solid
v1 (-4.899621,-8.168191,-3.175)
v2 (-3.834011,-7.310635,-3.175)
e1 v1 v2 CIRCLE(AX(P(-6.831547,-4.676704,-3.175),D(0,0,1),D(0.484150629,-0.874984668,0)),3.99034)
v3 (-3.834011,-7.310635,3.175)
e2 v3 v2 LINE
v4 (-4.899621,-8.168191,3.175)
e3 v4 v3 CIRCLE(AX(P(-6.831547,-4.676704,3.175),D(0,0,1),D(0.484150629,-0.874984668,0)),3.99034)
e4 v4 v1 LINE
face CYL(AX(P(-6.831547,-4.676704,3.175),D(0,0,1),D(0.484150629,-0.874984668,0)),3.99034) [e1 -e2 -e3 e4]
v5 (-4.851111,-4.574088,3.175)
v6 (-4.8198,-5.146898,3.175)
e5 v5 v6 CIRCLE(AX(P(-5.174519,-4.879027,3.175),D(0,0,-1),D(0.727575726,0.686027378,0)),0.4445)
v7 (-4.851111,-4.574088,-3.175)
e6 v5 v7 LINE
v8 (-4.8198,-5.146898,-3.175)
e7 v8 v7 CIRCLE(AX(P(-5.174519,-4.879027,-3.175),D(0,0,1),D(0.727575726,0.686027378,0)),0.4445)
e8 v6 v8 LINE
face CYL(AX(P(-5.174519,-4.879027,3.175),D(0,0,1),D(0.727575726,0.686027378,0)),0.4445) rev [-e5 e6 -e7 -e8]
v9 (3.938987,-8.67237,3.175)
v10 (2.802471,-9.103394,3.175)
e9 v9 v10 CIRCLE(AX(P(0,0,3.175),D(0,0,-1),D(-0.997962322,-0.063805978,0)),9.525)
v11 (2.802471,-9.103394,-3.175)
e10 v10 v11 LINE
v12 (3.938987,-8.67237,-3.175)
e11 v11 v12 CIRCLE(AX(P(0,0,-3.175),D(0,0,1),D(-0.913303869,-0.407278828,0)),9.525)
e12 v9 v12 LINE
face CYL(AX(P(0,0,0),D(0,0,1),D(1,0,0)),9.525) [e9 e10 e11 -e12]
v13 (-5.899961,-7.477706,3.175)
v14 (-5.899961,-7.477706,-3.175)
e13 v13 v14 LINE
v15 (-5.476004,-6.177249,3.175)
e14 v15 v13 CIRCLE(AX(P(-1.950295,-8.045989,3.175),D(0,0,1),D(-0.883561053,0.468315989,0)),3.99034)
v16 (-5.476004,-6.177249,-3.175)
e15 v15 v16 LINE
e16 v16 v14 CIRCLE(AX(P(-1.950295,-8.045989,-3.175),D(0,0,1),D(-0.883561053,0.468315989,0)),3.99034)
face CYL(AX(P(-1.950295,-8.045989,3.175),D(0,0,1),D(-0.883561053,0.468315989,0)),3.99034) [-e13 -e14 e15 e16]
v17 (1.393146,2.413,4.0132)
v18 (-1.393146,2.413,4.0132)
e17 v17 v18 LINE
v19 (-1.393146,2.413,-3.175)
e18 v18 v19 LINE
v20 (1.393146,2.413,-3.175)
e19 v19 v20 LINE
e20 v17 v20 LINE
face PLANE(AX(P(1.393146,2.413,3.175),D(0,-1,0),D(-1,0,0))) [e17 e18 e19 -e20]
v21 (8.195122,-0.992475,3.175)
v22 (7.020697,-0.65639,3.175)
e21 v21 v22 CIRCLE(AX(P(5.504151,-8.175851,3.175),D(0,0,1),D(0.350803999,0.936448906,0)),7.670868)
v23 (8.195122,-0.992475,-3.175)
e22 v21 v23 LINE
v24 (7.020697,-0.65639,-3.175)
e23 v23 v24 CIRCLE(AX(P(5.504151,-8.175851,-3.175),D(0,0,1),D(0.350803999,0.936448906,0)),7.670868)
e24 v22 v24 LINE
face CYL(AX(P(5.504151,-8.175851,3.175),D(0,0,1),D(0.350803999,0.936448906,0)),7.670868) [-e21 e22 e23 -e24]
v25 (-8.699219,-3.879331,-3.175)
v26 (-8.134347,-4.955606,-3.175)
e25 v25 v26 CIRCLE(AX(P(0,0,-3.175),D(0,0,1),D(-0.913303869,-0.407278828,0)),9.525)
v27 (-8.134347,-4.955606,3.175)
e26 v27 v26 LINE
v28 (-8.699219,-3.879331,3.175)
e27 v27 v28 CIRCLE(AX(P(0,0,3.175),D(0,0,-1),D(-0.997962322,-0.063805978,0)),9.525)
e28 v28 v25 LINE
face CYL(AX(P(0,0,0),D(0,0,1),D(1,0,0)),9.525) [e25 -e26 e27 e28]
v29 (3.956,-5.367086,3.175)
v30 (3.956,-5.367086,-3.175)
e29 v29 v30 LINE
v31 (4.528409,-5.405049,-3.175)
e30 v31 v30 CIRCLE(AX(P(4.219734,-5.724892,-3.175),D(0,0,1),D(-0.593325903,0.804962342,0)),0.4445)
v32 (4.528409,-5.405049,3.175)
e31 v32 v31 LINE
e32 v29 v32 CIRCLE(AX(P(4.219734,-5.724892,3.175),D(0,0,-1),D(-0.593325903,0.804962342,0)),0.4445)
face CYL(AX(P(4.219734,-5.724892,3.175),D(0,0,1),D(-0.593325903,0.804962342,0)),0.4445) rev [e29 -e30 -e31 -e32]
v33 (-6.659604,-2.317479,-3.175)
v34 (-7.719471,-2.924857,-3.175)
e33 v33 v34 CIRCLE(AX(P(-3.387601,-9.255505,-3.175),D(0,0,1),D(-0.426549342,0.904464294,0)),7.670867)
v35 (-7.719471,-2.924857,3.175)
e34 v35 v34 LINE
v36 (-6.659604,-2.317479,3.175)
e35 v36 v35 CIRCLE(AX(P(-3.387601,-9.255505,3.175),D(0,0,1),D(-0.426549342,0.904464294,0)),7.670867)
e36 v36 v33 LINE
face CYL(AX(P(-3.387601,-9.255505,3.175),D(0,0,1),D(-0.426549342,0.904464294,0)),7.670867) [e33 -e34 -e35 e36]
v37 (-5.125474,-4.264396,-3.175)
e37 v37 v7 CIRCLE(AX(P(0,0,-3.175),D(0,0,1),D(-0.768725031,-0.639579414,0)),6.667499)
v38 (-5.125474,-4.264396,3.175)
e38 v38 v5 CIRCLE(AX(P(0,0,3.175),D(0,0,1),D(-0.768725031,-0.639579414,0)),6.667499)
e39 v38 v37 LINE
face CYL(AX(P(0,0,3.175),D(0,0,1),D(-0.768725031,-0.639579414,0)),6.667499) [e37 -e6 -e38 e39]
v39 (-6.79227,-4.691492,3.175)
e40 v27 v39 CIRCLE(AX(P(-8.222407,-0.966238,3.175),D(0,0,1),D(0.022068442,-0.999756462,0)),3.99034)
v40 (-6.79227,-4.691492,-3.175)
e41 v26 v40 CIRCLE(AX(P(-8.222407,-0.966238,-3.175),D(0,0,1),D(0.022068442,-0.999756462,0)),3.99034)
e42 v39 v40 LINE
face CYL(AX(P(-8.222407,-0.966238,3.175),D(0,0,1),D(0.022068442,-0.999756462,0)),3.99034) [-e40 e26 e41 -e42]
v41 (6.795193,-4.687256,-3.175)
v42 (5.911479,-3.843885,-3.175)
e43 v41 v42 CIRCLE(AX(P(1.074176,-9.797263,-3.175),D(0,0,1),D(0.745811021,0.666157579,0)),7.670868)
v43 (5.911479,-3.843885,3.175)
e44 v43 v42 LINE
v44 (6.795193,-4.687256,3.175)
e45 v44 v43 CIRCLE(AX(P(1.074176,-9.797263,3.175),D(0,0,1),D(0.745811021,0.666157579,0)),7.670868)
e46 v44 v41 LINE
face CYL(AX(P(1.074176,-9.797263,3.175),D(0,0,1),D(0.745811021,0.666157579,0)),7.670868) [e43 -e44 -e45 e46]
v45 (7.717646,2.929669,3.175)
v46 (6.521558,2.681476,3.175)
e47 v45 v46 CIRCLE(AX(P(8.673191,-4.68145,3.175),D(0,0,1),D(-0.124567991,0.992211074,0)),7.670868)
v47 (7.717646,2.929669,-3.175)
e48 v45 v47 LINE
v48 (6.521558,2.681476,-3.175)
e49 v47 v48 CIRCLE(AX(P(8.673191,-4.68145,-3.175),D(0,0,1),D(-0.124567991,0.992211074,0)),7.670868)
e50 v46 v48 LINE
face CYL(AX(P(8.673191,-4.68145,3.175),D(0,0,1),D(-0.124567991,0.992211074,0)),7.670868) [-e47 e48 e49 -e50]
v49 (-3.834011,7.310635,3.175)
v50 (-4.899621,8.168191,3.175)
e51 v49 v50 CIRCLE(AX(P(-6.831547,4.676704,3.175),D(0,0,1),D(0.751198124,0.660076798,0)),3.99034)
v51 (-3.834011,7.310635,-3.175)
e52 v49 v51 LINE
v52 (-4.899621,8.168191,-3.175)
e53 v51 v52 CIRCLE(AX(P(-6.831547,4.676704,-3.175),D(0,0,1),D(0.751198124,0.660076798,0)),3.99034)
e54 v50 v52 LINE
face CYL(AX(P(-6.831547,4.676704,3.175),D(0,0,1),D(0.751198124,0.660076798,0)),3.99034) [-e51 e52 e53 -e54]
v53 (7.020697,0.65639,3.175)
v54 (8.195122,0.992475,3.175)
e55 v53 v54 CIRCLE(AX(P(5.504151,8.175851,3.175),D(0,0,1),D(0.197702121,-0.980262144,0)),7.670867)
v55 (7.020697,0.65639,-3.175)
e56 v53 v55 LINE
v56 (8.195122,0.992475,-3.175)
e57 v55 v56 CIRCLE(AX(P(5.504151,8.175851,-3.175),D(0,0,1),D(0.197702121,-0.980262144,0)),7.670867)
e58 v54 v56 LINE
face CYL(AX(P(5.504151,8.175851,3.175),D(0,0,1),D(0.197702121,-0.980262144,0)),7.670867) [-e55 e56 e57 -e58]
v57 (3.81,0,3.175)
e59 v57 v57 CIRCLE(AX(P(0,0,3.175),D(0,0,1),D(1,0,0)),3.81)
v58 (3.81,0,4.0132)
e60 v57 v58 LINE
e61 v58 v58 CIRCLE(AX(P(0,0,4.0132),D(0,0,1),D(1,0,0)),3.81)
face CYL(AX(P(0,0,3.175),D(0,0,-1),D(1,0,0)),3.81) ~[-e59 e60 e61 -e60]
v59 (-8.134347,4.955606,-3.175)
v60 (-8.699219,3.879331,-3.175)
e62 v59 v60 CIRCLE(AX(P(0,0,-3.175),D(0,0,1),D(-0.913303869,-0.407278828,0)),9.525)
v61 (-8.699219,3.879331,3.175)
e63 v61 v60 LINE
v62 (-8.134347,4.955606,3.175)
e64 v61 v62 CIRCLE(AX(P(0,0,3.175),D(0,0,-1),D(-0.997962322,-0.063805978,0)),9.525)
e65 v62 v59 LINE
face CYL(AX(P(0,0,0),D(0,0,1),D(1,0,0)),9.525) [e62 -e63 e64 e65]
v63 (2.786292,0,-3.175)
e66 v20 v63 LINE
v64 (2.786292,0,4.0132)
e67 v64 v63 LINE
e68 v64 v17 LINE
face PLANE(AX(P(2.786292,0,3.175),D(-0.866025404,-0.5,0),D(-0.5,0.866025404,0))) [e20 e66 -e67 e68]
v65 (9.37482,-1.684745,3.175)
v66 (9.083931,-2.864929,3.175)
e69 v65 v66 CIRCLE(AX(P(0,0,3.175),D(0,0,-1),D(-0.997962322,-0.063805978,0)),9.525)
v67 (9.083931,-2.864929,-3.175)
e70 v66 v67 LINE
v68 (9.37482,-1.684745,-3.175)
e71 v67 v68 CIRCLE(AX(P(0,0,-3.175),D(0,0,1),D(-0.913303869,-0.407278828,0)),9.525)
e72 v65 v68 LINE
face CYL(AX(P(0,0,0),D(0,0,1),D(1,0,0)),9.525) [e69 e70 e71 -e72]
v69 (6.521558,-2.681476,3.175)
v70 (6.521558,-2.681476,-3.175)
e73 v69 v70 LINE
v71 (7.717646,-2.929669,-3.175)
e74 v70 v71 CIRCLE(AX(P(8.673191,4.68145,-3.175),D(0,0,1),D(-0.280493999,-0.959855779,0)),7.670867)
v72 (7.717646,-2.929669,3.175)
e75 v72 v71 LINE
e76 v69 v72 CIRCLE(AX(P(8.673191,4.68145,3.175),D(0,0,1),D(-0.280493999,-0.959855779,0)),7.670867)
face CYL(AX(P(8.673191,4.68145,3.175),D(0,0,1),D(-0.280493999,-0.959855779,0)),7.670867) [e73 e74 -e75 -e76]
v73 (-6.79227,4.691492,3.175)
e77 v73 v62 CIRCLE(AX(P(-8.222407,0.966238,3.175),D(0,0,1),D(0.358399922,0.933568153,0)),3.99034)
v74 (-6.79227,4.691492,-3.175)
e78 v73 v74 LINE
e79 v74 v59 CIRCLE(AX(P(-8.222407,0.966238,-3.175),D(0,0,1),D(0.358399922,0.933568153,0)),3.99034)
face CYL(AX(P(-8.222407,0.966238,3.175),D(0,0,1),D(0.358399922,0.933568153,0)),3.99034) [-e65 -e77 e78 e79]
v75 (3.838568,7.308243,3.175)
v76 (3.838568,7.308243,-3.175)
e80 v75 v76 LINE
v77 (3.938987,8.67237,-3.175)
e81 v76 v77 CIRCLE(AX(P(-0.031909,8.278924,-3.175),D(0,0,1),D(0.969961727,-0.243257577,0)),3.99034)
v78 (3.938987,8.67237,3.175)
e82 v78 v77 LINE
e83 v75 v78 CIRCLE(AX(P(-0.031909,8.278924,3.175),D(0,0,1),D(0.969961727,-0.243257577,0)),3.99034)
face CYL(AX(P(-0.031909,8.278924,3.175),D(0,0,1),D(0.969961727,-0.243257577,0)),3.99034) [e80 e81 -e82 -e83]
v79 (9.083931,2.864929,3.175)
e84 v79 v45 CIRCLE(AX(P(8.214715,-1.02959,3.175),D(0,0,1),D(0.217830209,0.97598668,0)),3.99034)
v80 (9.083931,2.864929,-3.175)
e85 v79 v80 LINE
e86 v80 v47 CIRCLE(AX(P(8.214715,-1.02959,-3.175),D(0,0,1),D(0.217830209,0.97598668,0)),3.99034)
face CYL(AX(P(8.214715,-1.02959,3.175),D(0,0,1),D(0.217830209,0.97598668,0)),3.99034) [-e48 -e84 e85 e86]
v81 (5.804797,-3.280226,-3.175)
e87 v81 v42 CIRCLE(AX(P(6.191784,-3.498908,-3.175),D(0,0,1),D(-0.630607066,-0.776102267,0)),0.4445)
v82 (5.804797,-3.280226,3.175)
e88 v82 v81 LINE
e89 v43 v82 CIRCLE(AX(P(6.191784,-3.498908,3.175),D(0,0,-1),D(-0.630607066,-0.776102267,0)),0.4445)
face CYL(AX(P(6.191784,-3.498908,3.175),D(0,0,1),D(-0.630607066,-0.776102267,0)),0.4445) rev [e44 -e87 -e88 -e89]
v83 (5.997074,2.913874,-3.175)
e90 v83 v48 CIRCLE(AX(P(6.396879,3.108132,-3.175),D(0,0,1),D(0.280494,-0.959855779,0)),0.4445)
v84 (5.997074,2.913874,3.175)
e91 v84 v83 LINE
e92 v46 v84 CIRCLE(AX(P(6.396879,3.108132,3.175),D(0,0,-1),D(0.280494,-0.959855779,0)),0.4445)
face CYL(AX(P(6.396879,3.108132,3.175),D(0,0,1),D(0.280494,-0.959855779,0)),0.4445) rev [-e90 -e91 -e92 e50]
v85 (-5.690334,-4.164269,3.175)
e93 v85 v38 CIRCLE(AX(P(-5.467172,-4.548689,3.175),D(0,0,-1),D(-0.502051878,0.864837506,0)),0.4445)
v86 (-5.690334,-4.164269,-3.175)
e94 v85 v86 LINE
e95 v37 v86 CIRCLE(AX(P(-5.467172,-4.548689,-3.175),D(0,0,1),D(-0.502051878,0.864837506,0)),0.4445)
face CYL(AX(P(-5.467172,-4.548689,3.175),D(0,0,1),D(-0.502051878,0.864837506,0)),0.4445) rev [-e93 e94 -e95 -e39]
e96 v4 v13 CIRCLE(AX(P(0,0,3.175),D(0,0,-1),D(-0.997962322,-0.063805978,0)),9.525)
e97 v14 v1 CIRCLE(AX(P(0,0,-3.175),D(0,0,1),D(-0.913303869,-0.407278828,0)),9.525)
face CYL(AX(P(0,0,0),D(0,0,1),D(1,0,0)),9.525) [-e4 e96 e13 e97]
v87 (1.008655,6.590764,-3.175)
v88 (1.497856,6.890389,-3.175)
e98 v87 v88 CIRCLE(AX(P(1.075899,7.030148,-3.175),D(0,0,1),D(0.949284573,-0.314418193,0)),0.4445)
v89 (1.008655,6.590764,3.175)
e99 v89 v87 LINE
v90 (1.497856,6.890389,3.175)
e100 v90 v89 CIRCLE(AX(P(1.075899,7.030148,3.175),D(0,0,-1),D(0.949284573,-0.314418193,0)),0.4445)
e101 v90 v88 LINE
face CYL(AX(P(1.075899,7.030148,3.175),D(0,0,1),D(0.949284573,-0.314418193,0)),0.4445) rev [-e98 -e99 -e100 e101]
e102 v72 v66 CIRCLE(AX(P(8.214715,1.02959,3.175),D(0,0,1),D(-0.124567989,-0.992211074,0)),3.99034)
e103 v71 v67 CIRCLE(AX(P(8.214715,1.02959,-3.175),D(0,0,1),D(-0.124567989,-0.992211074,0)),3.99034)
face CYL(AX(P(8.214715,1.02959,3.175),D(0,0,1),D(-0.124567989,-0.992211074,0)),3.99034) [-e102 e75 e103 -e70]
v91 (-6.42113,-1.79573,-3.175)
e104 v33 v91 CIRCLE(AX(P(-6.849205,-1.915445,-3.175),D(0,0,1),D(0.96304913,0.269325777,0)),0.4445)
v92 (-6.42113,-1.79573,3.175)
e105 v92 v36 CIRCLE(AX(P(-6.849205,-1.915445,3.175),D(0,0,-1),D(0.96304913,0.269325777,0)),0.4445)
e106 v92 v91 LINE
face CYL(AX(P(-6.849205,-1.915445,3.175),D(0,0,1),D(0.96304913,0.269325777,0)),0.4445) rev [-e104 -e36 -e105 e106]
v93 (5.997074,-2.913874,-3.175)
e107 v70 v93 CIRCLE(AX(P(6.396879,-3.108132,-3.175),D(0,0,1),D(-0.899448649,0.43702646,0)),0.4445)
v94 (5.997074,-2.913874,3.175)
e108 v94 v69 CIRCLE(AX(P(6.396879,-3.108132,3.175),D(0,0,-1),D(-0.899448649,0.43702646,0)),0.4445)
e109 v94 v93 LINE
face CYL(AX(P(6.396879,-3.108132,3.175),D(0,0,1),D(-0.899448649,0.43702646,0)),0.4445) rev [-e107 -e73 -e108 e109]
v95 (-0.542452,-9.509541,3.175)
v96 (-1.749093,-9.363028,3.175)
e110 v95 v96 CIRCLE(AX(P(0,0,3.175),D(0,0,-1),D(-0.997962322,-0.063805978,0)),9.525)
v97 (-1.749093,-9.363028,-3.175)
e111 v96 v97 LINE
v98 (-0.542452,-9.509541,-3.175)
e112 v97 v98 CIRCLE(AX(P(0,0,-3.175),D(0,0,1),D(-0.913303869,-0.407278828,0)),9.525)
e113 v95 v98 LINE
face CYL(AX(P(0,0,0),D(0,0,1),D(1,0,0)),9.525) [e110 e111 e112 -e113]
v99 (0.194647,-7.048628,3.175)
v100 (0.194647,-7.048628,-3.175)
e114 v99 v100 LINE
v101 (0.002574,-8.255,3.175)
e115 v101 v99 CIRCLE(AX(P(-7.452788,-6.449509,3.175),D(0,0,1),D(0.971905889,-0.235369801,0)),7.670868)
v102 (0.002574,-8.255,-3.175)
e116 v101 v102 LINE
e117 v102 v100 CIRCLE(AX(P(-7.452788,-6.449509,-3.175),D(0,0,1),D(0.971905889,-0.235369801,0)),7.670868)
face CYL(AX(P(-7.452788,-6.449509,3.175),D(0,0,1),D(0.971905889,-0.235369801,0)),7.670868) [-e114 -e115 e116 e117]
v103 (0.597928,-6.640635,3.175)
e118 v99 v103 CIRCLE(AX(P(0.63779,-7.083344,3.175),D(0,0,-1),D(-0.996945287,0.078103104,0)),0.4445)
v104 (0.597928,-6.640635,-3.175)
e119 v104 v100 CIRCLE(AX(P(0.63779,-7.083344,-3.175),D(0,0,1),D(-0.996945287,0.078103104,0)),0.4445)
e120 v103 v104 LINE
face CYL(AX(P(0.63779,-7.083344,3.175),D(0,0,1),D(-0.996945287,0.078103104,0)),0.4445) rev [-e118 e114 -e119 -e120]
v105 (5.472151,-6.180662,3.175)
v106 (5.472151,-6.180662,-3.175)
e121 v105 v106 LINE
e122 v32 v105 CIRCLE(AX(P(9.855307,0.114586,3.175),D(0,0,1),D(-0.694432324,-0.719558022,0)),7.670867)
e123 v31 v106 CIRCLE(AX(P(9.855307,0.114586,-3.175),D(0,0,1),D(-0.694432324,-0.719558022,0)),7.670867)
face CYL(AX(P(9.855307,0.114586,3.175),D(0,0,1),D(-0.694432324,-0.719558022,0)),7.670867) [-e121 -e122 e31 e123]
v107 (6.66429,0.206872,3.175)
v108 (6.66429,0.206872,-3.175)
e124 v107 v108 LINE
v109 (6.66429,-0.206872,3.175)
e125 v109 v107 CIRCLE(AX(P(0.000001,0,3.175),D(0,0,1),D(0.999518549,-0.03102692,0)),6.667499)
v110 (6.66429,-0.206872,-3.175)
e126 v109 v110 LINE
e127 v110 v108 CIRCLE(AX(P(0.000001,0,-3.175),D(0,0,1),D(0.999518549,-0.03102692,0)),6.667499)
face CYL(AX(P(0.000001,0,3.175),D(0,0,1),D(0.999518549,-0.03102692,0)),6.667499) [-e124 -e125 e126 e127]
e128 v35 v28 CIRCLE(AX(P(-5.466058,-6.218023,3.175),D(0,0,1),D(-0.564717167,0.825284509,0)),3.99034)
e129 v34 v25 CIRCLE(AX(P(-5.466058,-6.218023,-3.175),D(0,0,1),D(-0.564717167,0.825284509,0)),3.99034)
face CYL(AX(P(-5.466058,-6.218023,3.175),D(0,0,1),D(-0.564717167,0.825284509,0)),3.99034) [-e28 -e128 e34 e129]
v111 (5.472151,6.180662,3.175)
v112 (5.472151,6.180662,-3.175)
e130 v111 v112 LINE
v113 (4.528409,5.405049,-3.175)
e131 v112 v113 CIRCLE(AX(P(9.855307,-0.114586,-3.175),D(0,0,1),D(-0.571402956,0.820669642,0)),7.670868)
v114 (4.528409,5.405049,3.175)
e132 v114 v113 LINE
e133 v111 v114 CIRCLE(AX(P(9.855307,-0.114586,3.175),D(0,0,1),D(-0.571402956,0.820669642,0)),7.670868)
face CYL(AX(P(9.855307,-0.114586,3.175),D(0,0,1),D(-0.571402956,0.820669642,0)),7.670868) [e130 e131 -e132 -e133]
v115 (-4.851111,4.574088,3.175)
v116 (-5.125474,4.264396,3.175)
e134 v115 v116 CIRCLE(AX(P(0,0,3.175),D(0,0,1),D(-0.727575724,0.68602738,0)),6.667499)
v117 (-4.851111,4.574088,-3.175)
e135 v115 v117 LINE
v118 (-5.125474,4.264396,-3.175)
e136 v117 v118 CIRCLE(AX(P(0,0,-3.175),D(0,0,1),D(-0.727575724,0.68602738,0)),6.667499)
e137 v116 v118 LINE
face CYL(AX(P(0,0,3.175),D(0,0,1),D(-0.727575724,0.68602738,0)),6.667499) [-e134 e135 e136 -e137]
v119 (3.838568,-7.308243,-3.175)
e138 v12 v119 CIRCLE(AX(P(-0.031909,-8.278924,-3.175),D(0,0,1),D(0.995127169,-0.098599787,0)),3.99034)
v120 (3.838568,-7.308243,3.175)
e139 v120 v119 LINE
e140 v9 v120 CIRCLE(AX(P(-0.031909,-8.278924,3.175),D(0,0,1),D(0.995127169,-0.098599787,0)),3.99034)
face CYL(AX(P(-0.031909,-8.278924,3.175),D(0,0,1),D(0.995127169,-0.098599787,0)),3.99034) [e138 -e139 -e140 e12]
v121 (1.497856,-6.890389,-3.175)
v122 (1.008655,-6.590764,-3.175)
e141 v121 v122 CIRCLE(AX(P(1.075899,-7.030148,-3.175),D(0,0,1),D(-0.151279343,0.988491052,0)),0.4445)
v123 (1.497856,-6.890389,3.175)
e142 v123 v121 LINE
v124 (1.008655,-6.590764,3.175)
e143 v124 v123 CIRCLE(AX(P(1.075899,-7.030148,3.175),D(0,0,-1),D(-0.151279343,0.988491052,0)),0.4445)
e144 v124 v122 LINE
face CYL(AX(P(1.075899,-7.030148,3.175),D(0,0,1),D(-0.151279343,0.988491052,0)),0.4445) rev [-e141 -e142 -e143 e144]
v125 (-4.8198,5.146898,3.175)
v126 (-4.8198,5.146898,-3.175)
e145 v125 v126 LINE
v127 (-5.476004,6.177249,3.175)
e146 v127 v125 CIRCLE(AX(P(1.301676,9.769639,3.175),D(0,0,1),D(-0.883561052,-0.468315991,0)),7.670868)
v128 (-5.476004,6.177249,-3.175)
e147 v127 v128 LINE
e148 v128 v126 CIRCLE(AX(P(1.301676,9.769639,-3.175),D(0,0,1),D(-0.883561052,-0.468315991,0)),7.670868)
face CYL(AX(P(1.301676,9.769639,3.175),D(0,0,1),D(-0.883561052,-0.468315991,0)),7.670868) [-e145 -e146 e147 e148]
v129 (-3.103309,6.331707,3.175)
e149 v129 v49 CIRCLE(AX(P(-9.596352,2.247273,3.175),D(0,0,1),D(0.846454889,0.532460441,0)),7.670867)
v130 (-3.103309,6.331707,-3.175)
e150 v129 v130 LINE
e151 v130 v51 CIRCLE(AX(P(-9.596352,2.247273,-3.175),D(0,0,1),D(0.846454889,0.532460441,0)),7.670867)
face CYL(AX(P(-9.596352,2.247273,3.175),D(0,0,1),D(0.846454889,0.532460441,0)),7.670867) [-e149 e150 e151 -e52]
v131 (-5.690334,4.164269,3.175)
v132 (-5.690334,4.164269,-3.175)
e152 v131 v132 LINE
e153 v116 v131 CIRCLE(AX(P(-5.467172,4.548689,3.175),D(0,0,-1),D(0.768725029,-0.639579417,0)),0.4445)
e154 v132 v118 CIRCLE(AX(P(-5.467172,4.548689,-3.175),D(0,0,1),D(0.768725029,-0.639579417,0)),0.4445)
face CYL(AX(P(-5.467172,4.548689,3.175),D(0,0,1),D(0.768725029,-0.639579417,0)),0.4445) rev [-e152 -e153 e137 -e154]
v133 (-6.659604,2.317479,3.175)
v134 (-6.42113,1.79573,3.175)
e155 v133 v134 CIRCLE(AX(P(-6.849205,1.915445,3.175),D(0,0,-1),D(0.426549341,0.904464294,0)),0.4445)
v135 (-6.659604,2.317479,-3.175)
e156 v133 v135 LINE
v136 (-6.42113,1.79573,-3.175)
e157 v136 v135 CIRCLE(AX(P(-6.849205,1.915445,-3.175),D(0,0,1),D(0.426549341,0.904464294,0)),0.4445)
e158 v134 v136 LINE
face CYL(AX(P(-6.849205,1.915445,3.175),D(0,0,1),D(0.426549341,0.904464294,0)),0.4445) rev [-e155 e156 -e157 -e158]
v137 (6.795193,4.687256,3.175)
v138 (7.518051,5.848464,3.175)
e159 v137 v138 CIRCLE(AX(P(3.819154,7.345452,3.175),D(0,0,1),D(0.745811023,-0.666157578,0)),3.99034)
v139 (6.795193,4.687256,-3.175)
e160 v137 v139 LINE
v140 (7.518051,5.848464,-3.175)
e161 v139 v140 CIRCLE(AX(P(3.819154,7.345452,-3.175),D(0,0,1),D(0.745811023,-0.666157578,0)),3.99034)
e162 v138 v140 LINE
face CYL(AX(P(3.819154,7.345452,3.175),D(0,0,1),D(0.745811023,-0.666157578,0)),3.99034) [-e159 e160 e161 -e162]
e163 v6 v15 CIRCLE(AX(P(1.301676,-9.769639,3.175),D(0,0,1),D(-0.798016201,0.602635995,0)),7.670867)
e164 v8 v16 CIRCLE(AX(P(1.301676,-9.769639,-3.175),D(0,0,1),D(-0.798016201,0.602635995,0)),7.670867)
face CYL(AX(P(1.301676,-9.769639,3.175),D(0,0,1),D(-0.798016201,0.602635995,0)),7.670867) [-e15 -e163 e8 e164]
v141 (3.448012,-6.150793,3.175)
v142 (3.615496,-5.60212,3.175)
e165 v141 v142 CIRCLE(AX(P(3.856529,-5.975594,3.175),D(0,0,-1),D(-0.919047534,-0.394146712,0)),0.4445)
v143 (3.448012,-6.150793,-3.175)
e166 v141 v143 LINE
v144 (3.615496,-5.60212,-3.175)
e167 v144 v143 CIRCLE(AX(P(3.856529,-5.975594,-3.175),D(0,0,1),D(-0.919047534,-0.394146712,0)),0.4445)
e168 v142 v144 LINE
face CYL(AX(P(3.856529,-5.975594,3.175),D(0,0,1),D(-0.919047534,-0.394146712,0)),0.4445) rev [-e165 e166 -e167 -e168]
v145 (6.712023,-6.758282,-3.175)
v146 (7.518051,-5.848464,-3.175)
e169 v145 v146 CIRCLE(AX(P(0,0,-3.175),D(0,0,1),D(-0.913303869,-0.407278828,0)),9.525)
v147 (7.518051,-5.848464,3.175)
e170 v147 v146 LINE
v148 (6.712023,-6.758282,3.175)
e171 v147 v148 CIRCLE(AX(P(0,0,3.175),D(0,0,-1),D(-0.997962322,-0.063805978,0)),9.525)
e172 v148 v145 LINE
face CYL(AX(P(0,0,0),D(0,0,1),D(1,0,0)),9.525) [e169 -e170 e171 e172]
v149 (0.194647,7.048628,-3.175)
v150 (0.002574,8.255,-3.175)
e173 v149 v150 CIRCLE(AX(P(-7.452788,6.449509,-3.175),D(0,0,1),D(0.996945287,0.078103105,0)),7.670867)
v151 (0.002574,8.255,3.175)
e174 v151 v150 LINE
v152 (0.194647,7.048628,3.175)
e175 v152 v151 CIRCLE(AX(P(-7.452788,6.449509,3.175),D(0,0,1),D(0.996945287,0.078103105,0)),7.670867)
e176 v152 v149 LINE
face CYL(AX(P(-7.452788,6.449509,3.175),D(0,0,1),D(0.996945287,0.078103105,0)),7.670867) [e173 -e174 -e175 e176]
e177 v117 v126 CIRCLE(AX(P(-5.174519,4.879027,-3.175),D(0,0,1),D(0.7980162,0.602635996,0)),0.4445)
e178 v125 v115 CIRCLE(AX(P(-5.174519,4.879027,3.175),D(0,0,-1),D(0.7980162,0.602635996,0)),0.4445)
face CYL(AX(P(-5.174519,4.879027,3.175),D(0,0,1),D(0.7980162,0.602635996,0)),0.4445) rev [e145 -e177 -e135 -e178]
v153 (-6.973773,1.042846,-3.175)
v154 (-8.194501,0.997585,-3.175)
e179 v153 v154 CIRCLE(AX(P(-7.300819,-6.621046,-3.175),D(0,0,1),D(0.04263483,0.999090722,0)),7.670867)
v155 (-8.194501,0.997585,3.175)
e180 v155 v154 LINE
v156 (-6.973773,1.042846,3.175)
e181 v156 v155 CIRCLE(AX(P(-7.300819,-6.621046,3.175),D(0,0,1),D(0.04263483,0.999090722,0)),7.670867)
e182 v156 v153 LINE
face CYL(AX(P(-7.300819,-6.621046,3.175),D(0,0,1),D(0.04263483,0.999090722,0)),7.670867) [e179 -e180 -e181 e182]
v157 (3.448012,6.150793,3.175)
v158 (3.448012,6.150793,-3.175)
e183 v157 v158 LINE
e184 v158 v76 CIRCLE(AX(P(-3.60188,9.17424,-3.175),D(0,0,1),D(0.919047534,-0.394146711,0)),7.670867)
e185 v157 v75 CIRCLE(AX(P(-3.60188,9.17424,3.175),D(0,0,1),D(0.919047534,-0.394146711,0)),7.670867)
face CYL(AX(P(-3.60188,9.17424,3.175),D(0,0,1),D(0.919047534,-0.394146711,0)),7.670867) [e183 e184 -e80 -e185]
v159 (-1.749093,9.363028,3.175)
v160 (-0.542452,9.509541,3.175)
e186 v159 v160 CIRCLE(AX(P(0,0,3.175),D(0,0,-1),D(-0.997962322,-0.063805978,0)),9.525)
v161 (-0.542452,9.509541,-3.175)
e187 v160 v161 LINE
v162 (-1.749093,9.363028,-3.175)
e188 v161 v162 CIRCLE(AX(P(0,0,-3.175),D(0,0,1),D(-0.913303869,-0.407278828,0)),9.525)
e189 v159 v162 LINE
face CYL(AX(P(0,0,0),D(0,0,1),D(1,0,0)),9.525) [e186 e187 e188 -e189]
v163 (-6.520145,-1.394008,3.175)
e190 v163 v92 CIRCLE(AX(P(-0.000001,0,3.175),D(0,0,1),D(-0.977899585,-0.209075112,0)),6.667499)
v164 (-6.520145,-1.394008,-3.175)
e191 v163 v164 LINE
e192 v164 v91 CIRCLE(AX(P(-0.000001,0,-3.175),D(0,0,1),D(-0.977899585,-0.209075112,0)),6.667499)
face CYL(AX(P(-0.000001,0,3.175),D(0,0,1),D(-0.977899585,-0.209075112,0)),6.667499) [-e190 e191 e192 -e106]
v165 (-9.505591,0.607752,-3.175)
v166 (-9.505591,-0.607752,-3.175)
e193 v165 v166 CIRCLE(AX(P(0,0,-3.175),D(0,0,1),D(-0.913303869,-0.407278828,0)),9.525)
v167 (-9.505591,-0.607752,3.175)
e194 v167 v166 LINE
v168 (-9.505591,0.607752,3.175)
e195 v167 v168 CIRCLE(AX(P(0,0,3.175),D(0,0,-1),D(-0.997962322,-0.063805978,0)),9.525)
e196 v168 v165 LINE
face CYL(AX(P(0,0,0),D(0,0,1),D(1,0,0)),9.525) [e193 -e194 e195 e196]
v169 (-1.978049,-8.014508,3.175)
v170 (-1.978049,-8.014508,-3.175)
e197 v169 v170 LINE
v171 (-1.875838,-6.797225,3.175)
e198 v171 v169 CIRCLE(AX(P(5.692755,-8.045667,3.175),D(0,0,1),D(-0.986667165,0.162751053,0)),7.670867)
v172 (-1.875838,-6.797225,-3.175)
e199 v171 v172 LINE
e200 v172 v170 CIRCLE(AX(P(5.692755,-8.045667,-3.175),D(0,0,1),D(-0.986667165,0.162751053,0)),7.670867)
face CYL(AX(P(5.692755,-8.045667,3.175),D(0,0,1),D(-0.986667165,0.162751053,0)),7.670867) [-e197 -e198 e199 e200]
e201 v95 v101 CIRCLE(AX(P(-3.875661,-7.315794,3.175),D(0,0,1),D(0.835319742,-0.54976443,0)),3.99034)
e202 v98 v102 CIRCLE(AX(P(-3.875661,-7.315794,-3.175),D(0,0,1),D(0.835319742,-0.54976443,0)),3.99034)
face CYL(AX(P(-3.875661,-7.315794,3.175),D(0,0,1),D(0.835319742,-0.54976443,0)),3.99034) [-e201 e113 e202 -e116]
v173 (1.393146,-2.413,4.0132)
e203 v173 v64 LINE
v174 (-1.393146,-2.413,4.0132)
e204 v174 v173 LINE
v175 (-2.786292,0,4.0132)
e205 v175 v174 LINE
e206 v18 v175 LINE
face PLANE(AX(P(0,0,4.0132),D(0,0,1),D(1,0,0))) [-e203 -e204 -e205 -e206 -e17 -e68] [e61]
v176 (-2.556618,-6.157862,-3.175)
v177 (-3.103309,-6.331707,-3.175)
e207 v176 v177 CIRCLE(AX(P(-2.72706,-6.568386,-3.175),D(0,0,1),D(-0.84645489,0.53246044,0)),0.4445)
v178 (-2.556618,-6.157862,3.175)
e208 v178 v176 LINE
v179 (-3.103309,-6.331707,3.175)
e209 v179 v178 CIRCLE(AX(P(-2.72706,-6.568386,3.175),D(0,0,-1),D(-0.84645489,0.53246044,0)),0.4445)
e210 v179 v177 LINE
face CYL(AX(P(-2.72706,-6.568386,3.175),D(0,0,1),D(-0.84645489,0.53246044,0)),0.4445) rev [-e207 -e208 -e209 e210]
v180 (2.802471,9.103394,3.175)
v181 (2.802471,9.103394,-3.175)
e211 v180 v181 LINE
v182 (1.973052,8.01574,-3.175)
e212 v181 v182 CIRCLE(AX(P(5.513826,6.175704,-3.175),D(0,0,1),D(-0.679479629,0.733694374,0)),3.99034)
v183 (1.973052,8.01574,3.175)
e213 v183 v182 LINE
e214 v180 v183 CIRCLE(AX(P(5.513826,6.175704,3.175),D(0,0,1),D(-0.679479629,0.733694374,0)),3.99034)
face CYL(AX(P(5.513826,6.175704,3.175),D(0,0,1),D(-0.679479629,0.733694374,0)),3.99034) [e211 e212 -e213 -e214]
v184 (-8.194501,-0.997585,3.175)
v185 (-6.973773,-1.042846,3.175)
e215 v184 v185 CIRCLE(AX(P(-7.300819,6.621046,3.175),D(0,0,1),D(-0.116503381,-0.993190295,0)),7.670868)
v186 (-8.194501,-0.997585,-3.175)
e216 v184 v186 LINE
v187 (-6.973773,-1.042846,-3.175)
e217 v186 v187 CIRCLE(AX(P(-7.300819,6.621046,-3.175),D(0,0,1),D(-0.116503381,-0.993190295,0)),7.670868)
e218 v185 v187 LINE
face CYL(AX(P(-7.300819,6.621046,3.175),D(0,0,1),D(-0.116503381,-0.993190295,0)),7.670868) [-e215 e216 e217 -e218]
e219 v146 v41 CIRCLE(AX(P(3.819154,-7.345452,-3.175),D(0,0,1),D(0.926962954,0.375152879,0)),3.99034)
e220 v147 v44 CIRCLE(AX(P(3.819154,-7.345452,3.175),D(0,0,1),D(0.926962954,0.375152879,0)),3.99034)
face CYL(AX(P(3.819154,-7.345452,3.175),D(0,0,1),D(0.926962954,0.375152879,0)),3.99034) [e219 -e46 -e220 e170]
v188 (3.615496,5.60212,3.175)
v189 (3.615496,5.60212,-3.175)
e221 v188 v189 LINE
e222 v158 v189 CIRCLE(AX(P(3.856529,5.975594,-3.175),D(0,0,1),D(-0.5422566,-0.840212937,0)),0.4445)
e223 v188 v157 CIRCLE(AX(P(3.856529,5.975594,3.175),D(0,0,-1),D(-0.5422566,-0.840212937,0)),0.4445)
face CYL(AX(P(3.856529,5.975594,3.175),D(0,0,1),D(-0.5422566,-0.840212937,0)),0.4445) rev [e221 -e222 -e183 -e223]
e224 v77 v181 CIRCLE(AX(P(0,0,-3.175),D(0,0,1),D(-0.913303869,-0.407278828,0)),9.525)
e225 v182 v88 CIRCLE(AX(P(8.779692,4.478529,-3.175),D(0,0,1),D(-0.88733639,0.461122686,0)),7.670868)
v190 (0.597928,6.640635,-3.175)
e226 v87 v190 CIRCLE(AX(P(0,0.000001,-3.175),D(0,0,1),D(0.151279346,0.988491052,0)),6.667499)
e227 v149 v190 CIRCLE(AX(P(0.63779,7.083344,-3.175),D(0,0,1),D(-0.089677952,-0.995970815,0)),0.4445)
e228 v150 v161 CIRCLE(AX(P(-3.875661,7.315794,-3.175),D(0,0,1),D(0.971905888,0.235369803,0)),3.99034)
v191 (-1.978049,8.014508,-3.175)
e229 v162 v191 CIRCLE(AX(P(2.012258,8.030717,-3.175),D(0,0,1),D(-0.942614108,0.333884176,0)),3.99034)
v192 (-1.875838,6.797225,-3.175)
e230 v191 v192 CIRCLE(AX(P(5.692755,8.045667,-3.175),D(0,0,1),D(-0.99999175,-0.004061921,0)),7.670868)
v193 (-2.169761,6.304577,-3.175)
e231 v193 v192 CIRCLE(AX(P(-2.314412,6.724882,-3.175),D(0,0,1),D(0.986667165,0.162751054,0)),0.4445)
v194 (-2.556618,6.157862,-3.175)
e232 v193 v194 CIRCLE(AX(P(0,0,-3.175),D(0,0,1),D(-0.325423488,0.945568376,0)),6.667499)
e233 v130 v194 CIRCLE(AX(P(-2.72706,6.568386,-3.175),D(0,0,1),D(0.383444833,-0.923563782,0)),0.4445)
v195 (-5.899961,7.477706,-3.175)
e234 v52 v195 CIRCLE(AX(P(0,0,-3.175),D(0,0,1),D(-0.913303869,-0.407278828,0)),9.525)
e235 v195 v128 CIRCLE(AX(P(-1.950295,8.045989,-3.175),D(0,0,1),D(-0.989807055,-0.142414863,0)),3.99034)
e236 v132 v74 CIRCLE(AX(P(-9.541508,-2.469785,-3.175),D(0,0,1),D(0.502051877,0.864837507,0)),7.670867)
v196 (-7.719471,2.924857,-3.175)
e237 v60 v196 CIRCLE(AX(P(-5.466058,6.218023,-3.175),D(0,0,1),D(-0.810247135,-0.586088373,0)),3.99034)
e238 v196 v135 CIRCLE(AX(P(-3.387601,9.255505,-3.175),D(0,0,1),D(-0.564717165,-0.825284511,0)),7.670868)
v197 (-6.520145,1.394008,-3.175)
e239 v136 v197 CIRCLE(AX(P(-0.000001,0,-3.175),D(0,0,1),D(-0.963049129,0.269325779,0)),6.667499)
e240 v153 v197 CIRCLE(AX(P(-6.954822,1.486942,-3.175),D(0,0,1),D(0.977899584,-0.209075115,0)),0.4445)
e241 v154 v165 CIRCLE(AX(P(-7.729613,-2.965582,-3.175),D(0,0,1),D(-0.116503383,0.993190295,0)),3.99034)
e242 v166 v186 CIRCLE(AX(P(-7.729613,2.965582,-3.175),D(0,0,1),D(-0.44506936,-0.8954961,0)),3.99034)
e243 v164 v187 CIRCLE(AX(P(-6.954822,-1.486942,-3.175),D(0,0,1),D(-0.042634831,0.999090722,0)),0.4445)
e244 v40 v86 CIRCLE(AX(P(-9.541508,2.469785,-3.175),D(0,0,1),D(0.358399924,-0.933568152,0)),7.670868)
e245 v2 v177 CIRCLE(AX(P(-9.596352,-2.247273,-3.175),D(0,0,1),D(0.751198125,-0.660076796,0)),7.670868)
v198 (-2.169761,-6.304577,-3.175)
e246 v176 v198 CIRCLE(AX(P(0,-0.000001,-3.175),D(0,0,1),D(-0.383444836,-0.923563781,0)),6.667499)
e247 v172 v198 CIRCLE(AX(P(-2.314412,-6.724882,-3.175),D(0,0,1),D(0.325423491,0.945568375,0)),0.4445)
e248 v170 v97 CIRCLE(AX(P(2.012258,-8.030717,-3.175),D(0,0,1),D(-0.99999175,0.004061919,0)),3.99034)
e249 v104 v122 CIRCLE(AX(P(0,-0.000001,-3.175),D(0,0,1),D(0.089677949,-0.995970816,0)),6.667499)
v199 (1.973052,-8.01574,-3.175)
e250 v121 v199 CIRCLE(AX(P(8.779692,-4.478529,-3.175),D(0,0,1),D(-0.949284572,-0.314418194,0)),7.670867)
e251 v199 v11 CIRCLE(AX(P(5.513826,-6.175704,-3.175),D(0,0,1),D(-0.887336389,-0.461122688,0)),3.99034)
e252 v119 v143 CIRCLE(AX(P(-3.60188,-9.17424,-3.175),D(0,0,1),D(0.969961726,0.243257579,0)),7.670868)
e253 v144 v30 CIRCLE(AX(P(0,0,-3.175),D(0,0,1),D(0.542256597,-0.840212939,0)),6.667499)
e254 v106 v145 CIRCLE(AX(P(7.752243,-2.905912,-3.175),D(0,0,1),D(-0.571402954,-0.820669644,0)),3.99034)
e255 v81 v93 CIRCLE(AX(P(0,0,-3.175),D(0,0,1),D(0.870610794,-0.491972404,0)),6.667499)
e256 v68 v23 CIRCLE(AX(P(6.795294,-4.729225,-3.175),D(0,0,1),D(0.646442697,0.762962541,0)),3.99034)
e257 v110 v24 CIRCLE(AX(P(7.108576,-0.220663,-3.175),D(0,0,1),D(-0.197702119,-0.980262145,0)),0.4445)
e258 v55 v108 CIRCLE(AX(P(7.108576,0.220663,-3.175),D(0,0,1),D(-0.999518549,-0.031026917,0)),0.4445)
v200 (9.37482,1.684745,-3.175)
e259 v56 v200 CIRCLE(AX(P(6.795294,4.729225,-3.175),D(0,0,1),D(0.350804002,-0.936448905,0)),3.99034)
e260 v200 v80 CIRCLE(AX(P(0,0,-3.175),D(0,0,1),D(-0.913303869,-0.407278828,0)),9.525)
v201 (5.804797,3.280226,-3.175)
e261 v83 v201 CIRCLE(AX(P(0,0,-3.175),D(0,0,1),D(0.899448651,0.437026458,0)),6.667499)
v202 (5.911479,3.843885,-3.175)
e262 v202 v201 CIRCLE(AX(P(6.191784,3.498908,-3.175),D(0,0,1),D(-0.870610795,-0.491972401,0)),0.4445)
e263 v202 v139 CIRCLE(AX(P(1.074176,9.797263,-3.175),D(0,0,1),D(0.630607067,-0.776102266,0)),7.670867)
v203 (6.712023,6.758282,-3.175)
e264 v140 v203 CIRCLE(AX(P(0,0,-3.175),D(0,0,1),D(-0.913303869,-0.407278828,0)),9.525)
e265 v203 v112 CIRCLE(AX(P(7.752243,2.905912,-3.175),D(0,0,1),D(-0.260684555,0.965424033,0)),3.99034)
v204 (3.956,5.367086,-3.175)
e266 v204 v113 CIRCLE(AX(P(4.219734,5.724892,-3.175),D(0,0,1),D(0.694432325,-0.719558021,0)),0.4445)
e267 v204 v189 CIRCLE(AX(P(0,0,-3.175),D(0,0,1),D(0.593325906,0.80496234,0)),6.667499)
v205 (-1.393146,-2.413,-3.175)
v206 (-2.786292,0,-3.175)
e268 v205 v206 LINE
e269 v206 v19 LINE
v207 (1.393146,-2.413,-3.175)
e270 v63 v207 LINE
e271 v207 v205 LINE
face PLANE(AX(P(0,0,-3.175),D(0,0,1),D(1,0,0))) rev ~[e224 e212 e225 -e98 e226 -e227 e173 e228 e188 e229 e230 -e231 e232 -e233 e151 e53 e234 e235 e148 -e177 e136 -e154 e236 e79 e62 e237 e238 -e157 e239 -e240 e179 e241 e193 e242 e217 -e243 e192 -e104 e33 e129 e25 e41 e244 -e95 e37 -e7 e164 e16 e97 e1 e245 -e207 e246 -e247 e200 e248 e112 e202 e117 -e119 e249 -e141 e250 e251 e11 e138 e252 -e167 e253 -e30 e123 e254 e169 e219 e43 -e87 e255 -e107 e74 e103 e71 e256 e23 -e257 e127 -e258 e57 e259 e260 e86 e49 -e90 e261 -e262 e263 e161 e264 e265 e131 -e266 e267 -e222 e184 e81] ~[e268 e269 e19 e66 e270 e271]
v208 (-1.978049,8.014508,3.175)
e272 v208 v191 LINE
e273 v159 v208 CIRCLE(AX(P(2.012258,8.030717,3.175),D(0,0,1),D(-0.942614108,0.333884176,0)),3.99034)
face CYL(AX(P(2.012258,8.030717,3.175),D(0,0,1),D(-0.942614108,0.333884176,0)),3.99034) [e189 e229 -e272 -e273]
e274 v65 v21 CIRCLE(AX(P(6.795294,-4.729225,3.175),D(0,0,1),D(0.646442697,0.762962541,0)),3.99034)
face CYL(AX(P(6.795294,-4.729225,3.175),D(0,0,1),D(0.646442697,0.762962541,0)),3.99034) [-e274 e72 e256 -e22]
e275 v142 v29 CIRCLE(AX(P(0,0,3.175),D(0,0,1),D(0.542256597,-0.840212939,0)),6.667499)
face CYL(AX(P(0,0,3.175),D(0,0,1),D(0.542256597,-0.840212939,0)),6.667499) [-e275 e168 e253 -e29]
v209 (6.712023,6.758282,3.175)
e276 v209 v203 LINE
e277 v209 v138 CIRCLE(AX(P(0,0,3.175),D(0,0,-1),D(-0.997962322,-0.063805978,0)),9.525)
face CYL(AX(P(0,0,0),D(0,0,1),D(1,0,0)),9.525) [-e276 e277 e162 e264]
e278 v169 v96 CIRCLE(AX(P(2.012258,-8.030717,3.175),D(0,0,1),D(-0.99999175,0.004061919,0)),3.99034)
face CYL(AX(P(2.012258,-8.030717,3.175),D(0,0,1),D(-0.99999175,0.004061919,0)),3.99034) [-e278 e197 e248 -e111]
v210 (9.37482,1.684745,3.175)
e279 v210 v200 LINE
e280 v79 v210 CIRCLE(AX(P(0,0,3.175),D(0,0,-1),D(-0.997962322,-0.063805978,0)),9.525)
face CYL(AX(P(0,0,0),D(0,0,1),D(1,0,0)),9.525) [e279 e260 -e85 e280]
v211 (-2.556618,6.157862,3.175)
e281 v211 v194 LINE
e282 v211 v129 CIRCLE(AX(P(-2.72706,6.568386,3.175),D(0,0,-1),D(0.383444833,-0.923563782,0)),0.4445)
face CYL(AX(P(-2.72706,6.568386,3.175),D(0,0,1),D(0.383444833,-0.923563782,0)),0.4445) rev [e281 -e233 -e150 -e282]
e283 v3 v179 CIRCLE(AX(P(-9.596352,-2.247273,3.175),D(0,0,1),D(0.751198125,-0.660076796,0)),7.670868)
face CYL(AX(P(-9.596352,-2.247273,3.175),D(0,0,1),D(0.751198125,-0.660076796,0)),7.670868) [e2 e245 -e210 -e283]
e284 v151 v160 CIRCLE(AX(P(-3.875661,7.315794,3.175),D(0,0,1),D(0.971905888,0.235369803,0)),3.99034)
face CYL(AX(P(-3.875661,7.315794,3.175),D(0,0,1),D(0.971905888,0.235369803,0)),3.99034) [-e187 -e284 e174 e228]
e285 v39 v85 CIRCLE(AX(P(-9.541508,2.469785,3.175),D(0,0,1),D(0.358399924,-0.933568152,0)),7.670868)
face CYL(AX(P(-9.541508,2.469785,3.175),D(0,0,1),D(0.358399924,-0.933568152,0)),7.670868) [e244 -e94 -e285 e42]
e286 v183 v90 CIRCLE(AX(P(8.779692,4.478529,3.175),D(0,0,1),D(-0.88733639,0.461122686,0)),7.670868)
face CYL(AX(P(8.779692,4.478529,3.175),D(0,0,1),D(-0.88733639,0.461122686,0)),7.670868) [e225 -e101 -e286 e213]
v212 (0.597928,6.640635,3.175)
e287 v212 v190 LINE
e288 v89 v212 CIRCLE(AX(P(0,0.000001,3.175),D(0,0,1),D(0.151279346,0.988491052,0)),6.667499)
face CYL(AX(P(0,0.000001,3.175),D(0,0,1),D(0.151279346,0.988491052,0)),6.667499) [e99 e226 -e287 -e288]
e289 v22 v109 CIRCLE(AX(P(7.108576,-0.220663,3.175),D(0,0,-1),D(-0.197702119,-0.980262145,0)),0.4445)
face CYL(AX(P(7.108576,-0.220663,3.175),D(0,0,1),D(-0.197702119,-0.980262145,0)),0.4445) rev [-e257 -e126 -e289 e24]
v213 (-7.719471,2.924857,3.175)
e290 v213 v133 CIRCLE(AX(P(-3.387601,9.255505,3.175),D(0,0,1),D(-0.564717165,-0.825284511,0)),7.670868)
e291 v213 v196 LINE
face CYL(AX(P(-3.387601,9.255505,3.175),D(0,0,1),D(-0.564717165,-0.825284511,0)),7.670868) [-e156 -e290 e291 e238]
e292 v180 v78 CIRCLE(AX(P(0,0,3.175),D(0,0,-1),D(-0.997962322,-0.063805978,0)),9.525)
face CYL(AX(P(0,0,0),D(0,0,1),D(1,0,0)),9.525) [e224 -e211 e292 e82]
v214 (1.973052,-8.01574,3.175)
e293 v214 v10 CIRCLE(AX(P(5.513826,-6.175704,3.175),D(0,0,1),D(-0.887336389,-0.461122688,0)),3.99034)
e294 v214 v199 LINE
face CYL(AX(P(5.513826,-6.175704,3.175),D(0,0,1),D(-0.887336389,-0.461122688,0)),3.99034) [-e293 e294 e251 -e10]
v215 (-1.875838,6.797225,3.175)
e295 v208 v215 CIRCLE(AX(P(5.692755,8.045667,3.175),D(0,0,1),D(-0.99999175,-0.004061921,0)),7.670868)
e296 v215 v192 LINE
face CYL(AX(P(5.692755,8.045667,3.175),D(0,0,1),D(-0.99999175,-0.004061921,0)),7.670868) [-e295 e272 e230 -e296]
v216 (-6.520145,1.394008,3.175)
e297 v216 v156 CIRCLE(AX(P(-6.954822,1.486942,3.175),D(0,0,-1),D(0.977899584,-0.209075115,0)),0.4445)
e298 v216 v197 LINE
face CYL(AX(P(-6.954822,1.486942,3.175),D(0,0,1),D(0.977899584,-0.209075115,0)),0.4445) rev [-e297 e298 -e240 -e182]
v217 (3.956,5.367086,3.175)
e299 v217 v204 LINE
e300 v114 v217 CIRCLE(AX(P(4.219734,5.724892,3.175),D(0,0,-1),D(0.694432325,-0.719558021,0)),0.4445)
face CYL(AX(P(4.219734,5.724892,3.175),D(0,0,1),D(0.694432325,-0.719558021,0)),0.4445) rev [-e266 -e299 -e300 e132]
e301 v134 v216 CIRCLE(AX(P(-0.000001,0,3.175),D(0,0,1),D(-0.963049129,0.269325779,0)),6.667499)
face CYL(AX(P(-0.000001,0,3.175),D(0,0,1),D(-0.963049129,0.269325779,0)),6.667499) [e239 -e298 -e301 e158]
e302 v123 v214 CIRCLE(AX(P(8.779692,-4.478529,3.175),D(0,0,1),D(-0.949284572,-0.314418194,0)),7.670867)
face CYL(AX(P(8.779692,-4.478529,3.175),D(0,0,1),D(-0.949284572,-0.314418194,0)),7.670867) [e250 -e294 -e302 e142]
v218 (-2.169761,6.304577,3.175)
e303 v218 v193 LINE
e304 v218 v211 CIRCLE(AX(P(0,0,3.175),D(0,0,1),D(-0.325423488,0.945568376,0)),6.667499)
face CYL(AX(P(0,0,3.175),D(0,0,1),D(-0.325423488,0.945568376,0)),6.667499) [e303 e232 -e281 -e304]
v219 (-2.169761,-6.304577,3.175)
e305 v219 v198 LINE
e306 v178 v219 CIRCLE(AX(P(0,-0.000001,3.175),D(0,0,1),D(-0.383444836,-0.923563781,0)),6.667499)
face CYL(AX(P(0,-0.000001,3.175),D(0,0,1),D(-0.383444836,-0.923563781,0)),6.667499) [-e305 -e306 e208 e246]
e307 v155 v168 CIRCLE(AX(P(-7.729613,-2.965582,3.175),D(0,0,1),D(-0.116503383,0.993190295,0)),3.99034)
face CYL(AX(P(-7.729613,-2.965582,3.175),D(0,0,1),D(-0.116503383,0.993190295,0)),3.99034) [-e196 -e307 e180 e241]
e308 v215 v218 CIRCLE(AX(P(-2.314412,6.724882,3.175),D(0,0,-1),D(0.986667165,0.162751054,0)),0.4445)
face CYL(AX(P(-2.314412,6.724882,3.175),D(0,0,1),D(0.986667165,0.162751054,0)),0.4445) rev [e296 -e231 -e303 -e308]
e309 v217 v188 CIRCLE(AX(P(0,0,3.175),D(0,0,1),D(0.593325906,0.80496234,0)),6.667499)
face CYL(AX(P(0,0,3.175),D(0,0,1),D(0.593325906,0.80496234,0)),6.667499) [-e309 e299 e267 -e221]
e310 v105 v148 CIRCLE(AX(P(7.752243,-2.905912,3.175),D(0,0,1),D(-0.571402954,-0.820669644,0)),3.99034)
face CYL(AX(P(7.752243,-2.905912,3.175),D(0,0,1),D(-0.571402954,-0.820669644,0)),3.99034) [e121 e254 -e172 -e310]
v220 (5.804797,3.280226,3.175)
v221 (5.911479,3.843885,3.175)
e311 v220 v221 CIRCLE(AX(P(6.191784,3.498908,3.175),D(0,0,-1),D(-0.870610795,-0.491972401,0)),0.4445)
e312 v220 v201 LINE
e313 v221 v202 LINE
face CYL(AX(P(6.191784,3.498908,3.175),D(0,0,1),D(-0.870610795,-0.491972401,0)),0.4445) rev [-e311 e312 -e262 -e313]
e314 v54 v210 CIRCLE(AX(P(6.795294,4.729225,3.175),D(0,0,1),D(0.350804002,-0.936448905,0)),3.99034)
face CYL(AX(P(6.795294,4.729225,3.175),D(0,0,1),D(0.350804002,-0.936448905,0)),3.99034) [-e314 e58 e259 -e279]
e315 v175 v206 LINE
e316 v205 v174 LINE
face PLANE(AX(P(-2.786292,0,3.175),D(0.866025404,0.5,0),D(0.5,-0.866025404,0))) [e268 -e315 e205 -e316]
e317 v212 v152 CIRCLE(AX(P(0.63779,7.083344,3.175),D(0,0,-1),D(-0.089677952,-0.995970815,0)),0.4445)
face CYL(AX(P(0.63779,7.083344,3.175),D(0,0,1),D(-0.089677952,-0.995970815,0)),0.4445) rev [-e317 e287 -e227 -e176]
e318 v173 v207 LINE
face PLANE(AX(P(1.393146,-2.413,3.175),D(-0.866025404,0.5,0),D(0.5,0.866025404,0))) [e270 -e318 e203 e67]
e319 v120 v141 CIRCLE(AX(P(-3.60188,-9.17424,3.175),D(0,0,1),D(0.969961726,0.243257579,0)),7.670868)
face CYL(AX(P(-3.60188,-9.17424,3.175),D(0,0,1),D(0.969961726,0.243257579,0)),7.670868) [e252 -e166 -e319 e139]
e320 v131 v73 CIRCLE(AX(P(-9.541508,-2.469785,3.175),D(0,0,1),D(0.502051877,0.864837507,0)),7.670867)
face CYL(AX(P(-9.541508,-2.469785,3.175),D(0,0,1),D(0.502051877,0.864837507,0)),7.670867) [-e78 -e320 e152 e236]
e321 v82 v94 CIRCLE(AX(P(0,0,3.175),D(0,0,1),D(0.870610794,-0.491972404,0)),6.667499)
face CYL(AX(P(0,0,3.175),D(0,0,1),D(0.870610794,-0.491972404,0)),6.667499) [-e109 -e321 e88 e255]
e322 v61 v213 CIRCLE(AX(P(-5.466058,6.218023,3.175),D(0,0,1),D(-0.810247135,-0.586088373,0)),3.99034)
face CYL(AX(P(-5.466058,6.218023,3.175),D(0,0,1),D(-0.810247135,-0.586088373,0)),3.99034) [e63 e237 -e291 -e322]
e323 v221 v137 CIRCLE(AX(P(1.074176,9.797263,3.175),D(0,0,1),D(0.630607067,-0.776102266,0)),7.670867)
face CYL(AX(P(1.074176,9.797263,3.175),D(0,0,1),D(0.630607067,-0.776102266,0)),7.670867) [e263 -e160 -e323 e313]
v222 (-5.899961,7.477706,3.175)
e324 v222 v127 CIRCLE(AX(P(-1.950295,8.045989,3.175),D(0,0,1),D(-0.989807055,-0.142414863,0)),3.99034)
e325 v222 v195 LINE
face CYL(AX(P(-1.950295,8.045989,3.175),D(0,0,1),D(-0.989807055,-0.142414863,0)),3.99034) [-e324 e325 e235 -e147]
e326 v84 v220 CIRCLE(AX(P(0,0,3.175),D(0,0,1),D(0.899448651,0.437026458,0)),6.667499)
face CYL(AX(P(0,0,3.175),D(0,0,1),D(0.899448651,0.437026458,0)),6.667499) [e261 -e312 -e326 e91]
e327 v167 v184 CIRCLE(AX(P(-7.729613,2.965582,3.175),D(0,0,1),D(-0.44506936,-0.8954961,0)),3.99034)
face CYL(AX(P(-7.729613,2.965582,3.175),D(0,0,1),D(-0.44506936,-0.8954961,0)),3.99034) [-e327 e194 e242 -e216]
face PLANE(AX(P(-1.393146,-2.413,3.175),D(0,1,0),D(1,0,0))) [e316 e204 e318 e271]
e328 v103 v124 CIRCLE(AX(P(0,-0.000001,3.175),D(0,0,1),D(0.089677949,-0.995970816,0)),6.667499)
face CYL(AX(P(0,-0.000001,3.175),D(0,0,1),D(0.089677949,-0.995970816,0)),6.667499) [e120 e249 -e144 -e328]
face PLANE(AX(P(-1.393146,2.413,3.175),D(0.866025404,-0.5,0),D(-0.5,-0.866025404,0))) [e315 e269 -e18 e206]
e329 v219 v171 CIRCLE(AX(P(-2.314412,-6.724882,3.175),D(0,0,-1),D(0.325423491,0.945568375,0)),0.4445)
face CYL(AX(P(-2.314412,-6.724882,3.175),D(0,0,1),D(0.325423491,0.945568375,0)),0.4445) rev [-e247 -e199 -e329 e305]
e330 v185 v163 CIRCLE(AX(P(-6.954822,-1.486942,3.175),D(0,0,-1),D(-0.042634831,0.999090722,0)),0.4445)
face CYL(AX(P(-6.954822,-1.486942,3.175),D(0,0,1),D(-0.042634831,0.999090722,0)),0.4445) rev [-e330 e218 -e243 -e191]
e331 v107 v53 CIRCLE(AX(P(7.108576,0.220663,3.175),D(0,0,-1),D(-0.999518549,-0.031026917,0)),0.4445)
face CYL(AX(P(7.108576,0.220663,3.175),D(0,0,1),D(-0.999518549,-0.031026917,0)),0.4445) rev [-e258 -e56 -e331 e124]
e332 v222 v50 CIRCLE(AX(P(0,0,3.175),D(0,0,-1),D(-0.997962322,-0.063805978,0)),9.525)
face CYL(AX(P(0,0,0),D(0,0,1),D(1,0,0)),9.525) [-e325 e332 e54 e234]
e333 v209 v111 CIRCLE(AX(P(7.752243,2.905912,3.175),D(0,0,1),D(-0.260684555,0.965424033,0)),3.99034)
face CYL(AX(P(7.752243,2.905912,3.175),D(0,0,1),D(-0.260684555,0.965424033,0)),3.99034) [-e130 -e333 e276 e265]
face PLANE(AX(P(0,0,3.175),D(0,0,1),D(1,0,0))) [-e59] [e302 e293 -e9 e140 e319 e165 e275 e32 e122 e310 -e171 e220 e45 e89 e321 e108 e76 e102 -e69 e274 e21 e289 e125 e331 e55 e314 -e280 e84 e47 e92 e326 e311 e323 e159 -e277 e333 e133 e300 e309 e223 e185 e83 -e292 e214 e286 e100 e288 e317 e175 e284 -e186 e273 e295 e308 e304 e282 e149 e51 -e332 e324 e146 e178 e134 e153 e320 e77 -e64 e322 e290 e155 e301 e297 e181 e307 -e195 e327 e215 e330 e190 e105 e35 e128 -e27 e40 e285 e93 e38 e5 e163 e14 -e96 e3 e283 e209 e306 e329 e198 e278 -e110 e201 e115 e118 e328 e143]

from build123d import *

# Parameters (mm, degrees)
SKETCH1_R           = 9.525
ROUND_STOCK_DEPTH   = 3.175
SINGLE_TOOTH_DEPTH  = 15.892070037
TOOTH_PATTERN_COUNT = 13
CUT_EXTRUDE1_DEPTH  = 15.882187212
SKETCH8_R           = 3.81
BOSS_EXTRUDE1_DEPTH = 0.8382


with BuildPart() as part:
    # Sketch1 → Round Stock (new, symmetric)
    with BuildSketch(Plane.XY):
        Circle(SKETCH1_R)
    extrude(amount=ROUND_STOCK_DEPTH, both=True)

    # Sketch2 → Single Tooth (cut, through all)
    with BuildSketch(Plane.XY.offset(3.175)):
        with BuildLine():
            ThreePointArc((-8.699219347, -3.879330837), (-9.248220811, -2.279481702), (-9.505591122, -0.607751944))
            ThreePointArc((-9.505591122, -0.607751944), (-8.866874127, -0.859264513), (-8.194501154, -0.997585))
            ThreePointArc((-8.194501154, -0.997585), (-7.585039492, -1.044554082), (-6.973773022, -1.042846396))
            ThreePointArc((-6.973773022, -1.042846396), (-6.682727126, -1.135452938), (-6.520145475, -1.394008333))
            ThreePointArc((-6.520145475, -1.394008333), (-6.473754568, -1.595637192), (-6.421130074, -1.795729609))
            ThreePointArc((-6.421130074, -1.795729609), (-6.444932293, -2.100224502), (-6.659604229, -2.317479295))
            ThreePointArc((-6.659604229, -2.317479295), (-7.201647409, -2.600036906), (-7.71947129, -2.92485692))
            ThreePointArc((-7.71947129, -2.92485692), (-8.250547255, -3.35980093), (-8.699219347, -3.879330837))
        make_face()
    single_tooth = extrude(amount=-SINGLE_TOOTH_DEPTH, mode=Mode.SUBTRACT)

    # Tooth Pattern: Single Tooth ×13 about axis
    tooth_pattern_axis = Axis((0, 0, 50), (0, 0, -1))
    for i in range(1, TOOTH_PATTERN_COUNT):
        add(single_tooth.rotate(tooth_pattern_axis, i * 360 / TOOTH_PATTERN_COUNT), mode=Mode.SUBTRACT)

    # Sketch7 → Cut-Extrude1 (cut, through all)
    with BuildSketch(Plane(origin=(0, 0, -3.175), x_dir=(-1, 0, 0), z_dir=(0, 0, -1))):
        Polygon((1.3931462, -2.413), (2.786292399, 0), (1.3931462, 2.413), (-1.3931462, 2.413), (-2.786292399, 0), (-1.3931462, -2.413), align=None)
    extrude(amount=-CUT_EXTRUDE1_DEPTH, mode=Mode.SUBTRACT)

    # Sketch8 → Boss-Extrude1 (add)
    with BuildSketch(Plane.XY.offset(3.175)):
        Circle(SKETCH8_R)
        Polygon((-1.3931462, -2.413), (1.3931462, -2.413), (2.786292399, 0), (1.3931462, 2.413), (-1.3931462, 2.413), (-2.786292399, 0), align=None, mode=Mode.SUBTRACT)
    extrude(amount=BOSS_EXTRUDE1_DEPTH)


solid = part.part
